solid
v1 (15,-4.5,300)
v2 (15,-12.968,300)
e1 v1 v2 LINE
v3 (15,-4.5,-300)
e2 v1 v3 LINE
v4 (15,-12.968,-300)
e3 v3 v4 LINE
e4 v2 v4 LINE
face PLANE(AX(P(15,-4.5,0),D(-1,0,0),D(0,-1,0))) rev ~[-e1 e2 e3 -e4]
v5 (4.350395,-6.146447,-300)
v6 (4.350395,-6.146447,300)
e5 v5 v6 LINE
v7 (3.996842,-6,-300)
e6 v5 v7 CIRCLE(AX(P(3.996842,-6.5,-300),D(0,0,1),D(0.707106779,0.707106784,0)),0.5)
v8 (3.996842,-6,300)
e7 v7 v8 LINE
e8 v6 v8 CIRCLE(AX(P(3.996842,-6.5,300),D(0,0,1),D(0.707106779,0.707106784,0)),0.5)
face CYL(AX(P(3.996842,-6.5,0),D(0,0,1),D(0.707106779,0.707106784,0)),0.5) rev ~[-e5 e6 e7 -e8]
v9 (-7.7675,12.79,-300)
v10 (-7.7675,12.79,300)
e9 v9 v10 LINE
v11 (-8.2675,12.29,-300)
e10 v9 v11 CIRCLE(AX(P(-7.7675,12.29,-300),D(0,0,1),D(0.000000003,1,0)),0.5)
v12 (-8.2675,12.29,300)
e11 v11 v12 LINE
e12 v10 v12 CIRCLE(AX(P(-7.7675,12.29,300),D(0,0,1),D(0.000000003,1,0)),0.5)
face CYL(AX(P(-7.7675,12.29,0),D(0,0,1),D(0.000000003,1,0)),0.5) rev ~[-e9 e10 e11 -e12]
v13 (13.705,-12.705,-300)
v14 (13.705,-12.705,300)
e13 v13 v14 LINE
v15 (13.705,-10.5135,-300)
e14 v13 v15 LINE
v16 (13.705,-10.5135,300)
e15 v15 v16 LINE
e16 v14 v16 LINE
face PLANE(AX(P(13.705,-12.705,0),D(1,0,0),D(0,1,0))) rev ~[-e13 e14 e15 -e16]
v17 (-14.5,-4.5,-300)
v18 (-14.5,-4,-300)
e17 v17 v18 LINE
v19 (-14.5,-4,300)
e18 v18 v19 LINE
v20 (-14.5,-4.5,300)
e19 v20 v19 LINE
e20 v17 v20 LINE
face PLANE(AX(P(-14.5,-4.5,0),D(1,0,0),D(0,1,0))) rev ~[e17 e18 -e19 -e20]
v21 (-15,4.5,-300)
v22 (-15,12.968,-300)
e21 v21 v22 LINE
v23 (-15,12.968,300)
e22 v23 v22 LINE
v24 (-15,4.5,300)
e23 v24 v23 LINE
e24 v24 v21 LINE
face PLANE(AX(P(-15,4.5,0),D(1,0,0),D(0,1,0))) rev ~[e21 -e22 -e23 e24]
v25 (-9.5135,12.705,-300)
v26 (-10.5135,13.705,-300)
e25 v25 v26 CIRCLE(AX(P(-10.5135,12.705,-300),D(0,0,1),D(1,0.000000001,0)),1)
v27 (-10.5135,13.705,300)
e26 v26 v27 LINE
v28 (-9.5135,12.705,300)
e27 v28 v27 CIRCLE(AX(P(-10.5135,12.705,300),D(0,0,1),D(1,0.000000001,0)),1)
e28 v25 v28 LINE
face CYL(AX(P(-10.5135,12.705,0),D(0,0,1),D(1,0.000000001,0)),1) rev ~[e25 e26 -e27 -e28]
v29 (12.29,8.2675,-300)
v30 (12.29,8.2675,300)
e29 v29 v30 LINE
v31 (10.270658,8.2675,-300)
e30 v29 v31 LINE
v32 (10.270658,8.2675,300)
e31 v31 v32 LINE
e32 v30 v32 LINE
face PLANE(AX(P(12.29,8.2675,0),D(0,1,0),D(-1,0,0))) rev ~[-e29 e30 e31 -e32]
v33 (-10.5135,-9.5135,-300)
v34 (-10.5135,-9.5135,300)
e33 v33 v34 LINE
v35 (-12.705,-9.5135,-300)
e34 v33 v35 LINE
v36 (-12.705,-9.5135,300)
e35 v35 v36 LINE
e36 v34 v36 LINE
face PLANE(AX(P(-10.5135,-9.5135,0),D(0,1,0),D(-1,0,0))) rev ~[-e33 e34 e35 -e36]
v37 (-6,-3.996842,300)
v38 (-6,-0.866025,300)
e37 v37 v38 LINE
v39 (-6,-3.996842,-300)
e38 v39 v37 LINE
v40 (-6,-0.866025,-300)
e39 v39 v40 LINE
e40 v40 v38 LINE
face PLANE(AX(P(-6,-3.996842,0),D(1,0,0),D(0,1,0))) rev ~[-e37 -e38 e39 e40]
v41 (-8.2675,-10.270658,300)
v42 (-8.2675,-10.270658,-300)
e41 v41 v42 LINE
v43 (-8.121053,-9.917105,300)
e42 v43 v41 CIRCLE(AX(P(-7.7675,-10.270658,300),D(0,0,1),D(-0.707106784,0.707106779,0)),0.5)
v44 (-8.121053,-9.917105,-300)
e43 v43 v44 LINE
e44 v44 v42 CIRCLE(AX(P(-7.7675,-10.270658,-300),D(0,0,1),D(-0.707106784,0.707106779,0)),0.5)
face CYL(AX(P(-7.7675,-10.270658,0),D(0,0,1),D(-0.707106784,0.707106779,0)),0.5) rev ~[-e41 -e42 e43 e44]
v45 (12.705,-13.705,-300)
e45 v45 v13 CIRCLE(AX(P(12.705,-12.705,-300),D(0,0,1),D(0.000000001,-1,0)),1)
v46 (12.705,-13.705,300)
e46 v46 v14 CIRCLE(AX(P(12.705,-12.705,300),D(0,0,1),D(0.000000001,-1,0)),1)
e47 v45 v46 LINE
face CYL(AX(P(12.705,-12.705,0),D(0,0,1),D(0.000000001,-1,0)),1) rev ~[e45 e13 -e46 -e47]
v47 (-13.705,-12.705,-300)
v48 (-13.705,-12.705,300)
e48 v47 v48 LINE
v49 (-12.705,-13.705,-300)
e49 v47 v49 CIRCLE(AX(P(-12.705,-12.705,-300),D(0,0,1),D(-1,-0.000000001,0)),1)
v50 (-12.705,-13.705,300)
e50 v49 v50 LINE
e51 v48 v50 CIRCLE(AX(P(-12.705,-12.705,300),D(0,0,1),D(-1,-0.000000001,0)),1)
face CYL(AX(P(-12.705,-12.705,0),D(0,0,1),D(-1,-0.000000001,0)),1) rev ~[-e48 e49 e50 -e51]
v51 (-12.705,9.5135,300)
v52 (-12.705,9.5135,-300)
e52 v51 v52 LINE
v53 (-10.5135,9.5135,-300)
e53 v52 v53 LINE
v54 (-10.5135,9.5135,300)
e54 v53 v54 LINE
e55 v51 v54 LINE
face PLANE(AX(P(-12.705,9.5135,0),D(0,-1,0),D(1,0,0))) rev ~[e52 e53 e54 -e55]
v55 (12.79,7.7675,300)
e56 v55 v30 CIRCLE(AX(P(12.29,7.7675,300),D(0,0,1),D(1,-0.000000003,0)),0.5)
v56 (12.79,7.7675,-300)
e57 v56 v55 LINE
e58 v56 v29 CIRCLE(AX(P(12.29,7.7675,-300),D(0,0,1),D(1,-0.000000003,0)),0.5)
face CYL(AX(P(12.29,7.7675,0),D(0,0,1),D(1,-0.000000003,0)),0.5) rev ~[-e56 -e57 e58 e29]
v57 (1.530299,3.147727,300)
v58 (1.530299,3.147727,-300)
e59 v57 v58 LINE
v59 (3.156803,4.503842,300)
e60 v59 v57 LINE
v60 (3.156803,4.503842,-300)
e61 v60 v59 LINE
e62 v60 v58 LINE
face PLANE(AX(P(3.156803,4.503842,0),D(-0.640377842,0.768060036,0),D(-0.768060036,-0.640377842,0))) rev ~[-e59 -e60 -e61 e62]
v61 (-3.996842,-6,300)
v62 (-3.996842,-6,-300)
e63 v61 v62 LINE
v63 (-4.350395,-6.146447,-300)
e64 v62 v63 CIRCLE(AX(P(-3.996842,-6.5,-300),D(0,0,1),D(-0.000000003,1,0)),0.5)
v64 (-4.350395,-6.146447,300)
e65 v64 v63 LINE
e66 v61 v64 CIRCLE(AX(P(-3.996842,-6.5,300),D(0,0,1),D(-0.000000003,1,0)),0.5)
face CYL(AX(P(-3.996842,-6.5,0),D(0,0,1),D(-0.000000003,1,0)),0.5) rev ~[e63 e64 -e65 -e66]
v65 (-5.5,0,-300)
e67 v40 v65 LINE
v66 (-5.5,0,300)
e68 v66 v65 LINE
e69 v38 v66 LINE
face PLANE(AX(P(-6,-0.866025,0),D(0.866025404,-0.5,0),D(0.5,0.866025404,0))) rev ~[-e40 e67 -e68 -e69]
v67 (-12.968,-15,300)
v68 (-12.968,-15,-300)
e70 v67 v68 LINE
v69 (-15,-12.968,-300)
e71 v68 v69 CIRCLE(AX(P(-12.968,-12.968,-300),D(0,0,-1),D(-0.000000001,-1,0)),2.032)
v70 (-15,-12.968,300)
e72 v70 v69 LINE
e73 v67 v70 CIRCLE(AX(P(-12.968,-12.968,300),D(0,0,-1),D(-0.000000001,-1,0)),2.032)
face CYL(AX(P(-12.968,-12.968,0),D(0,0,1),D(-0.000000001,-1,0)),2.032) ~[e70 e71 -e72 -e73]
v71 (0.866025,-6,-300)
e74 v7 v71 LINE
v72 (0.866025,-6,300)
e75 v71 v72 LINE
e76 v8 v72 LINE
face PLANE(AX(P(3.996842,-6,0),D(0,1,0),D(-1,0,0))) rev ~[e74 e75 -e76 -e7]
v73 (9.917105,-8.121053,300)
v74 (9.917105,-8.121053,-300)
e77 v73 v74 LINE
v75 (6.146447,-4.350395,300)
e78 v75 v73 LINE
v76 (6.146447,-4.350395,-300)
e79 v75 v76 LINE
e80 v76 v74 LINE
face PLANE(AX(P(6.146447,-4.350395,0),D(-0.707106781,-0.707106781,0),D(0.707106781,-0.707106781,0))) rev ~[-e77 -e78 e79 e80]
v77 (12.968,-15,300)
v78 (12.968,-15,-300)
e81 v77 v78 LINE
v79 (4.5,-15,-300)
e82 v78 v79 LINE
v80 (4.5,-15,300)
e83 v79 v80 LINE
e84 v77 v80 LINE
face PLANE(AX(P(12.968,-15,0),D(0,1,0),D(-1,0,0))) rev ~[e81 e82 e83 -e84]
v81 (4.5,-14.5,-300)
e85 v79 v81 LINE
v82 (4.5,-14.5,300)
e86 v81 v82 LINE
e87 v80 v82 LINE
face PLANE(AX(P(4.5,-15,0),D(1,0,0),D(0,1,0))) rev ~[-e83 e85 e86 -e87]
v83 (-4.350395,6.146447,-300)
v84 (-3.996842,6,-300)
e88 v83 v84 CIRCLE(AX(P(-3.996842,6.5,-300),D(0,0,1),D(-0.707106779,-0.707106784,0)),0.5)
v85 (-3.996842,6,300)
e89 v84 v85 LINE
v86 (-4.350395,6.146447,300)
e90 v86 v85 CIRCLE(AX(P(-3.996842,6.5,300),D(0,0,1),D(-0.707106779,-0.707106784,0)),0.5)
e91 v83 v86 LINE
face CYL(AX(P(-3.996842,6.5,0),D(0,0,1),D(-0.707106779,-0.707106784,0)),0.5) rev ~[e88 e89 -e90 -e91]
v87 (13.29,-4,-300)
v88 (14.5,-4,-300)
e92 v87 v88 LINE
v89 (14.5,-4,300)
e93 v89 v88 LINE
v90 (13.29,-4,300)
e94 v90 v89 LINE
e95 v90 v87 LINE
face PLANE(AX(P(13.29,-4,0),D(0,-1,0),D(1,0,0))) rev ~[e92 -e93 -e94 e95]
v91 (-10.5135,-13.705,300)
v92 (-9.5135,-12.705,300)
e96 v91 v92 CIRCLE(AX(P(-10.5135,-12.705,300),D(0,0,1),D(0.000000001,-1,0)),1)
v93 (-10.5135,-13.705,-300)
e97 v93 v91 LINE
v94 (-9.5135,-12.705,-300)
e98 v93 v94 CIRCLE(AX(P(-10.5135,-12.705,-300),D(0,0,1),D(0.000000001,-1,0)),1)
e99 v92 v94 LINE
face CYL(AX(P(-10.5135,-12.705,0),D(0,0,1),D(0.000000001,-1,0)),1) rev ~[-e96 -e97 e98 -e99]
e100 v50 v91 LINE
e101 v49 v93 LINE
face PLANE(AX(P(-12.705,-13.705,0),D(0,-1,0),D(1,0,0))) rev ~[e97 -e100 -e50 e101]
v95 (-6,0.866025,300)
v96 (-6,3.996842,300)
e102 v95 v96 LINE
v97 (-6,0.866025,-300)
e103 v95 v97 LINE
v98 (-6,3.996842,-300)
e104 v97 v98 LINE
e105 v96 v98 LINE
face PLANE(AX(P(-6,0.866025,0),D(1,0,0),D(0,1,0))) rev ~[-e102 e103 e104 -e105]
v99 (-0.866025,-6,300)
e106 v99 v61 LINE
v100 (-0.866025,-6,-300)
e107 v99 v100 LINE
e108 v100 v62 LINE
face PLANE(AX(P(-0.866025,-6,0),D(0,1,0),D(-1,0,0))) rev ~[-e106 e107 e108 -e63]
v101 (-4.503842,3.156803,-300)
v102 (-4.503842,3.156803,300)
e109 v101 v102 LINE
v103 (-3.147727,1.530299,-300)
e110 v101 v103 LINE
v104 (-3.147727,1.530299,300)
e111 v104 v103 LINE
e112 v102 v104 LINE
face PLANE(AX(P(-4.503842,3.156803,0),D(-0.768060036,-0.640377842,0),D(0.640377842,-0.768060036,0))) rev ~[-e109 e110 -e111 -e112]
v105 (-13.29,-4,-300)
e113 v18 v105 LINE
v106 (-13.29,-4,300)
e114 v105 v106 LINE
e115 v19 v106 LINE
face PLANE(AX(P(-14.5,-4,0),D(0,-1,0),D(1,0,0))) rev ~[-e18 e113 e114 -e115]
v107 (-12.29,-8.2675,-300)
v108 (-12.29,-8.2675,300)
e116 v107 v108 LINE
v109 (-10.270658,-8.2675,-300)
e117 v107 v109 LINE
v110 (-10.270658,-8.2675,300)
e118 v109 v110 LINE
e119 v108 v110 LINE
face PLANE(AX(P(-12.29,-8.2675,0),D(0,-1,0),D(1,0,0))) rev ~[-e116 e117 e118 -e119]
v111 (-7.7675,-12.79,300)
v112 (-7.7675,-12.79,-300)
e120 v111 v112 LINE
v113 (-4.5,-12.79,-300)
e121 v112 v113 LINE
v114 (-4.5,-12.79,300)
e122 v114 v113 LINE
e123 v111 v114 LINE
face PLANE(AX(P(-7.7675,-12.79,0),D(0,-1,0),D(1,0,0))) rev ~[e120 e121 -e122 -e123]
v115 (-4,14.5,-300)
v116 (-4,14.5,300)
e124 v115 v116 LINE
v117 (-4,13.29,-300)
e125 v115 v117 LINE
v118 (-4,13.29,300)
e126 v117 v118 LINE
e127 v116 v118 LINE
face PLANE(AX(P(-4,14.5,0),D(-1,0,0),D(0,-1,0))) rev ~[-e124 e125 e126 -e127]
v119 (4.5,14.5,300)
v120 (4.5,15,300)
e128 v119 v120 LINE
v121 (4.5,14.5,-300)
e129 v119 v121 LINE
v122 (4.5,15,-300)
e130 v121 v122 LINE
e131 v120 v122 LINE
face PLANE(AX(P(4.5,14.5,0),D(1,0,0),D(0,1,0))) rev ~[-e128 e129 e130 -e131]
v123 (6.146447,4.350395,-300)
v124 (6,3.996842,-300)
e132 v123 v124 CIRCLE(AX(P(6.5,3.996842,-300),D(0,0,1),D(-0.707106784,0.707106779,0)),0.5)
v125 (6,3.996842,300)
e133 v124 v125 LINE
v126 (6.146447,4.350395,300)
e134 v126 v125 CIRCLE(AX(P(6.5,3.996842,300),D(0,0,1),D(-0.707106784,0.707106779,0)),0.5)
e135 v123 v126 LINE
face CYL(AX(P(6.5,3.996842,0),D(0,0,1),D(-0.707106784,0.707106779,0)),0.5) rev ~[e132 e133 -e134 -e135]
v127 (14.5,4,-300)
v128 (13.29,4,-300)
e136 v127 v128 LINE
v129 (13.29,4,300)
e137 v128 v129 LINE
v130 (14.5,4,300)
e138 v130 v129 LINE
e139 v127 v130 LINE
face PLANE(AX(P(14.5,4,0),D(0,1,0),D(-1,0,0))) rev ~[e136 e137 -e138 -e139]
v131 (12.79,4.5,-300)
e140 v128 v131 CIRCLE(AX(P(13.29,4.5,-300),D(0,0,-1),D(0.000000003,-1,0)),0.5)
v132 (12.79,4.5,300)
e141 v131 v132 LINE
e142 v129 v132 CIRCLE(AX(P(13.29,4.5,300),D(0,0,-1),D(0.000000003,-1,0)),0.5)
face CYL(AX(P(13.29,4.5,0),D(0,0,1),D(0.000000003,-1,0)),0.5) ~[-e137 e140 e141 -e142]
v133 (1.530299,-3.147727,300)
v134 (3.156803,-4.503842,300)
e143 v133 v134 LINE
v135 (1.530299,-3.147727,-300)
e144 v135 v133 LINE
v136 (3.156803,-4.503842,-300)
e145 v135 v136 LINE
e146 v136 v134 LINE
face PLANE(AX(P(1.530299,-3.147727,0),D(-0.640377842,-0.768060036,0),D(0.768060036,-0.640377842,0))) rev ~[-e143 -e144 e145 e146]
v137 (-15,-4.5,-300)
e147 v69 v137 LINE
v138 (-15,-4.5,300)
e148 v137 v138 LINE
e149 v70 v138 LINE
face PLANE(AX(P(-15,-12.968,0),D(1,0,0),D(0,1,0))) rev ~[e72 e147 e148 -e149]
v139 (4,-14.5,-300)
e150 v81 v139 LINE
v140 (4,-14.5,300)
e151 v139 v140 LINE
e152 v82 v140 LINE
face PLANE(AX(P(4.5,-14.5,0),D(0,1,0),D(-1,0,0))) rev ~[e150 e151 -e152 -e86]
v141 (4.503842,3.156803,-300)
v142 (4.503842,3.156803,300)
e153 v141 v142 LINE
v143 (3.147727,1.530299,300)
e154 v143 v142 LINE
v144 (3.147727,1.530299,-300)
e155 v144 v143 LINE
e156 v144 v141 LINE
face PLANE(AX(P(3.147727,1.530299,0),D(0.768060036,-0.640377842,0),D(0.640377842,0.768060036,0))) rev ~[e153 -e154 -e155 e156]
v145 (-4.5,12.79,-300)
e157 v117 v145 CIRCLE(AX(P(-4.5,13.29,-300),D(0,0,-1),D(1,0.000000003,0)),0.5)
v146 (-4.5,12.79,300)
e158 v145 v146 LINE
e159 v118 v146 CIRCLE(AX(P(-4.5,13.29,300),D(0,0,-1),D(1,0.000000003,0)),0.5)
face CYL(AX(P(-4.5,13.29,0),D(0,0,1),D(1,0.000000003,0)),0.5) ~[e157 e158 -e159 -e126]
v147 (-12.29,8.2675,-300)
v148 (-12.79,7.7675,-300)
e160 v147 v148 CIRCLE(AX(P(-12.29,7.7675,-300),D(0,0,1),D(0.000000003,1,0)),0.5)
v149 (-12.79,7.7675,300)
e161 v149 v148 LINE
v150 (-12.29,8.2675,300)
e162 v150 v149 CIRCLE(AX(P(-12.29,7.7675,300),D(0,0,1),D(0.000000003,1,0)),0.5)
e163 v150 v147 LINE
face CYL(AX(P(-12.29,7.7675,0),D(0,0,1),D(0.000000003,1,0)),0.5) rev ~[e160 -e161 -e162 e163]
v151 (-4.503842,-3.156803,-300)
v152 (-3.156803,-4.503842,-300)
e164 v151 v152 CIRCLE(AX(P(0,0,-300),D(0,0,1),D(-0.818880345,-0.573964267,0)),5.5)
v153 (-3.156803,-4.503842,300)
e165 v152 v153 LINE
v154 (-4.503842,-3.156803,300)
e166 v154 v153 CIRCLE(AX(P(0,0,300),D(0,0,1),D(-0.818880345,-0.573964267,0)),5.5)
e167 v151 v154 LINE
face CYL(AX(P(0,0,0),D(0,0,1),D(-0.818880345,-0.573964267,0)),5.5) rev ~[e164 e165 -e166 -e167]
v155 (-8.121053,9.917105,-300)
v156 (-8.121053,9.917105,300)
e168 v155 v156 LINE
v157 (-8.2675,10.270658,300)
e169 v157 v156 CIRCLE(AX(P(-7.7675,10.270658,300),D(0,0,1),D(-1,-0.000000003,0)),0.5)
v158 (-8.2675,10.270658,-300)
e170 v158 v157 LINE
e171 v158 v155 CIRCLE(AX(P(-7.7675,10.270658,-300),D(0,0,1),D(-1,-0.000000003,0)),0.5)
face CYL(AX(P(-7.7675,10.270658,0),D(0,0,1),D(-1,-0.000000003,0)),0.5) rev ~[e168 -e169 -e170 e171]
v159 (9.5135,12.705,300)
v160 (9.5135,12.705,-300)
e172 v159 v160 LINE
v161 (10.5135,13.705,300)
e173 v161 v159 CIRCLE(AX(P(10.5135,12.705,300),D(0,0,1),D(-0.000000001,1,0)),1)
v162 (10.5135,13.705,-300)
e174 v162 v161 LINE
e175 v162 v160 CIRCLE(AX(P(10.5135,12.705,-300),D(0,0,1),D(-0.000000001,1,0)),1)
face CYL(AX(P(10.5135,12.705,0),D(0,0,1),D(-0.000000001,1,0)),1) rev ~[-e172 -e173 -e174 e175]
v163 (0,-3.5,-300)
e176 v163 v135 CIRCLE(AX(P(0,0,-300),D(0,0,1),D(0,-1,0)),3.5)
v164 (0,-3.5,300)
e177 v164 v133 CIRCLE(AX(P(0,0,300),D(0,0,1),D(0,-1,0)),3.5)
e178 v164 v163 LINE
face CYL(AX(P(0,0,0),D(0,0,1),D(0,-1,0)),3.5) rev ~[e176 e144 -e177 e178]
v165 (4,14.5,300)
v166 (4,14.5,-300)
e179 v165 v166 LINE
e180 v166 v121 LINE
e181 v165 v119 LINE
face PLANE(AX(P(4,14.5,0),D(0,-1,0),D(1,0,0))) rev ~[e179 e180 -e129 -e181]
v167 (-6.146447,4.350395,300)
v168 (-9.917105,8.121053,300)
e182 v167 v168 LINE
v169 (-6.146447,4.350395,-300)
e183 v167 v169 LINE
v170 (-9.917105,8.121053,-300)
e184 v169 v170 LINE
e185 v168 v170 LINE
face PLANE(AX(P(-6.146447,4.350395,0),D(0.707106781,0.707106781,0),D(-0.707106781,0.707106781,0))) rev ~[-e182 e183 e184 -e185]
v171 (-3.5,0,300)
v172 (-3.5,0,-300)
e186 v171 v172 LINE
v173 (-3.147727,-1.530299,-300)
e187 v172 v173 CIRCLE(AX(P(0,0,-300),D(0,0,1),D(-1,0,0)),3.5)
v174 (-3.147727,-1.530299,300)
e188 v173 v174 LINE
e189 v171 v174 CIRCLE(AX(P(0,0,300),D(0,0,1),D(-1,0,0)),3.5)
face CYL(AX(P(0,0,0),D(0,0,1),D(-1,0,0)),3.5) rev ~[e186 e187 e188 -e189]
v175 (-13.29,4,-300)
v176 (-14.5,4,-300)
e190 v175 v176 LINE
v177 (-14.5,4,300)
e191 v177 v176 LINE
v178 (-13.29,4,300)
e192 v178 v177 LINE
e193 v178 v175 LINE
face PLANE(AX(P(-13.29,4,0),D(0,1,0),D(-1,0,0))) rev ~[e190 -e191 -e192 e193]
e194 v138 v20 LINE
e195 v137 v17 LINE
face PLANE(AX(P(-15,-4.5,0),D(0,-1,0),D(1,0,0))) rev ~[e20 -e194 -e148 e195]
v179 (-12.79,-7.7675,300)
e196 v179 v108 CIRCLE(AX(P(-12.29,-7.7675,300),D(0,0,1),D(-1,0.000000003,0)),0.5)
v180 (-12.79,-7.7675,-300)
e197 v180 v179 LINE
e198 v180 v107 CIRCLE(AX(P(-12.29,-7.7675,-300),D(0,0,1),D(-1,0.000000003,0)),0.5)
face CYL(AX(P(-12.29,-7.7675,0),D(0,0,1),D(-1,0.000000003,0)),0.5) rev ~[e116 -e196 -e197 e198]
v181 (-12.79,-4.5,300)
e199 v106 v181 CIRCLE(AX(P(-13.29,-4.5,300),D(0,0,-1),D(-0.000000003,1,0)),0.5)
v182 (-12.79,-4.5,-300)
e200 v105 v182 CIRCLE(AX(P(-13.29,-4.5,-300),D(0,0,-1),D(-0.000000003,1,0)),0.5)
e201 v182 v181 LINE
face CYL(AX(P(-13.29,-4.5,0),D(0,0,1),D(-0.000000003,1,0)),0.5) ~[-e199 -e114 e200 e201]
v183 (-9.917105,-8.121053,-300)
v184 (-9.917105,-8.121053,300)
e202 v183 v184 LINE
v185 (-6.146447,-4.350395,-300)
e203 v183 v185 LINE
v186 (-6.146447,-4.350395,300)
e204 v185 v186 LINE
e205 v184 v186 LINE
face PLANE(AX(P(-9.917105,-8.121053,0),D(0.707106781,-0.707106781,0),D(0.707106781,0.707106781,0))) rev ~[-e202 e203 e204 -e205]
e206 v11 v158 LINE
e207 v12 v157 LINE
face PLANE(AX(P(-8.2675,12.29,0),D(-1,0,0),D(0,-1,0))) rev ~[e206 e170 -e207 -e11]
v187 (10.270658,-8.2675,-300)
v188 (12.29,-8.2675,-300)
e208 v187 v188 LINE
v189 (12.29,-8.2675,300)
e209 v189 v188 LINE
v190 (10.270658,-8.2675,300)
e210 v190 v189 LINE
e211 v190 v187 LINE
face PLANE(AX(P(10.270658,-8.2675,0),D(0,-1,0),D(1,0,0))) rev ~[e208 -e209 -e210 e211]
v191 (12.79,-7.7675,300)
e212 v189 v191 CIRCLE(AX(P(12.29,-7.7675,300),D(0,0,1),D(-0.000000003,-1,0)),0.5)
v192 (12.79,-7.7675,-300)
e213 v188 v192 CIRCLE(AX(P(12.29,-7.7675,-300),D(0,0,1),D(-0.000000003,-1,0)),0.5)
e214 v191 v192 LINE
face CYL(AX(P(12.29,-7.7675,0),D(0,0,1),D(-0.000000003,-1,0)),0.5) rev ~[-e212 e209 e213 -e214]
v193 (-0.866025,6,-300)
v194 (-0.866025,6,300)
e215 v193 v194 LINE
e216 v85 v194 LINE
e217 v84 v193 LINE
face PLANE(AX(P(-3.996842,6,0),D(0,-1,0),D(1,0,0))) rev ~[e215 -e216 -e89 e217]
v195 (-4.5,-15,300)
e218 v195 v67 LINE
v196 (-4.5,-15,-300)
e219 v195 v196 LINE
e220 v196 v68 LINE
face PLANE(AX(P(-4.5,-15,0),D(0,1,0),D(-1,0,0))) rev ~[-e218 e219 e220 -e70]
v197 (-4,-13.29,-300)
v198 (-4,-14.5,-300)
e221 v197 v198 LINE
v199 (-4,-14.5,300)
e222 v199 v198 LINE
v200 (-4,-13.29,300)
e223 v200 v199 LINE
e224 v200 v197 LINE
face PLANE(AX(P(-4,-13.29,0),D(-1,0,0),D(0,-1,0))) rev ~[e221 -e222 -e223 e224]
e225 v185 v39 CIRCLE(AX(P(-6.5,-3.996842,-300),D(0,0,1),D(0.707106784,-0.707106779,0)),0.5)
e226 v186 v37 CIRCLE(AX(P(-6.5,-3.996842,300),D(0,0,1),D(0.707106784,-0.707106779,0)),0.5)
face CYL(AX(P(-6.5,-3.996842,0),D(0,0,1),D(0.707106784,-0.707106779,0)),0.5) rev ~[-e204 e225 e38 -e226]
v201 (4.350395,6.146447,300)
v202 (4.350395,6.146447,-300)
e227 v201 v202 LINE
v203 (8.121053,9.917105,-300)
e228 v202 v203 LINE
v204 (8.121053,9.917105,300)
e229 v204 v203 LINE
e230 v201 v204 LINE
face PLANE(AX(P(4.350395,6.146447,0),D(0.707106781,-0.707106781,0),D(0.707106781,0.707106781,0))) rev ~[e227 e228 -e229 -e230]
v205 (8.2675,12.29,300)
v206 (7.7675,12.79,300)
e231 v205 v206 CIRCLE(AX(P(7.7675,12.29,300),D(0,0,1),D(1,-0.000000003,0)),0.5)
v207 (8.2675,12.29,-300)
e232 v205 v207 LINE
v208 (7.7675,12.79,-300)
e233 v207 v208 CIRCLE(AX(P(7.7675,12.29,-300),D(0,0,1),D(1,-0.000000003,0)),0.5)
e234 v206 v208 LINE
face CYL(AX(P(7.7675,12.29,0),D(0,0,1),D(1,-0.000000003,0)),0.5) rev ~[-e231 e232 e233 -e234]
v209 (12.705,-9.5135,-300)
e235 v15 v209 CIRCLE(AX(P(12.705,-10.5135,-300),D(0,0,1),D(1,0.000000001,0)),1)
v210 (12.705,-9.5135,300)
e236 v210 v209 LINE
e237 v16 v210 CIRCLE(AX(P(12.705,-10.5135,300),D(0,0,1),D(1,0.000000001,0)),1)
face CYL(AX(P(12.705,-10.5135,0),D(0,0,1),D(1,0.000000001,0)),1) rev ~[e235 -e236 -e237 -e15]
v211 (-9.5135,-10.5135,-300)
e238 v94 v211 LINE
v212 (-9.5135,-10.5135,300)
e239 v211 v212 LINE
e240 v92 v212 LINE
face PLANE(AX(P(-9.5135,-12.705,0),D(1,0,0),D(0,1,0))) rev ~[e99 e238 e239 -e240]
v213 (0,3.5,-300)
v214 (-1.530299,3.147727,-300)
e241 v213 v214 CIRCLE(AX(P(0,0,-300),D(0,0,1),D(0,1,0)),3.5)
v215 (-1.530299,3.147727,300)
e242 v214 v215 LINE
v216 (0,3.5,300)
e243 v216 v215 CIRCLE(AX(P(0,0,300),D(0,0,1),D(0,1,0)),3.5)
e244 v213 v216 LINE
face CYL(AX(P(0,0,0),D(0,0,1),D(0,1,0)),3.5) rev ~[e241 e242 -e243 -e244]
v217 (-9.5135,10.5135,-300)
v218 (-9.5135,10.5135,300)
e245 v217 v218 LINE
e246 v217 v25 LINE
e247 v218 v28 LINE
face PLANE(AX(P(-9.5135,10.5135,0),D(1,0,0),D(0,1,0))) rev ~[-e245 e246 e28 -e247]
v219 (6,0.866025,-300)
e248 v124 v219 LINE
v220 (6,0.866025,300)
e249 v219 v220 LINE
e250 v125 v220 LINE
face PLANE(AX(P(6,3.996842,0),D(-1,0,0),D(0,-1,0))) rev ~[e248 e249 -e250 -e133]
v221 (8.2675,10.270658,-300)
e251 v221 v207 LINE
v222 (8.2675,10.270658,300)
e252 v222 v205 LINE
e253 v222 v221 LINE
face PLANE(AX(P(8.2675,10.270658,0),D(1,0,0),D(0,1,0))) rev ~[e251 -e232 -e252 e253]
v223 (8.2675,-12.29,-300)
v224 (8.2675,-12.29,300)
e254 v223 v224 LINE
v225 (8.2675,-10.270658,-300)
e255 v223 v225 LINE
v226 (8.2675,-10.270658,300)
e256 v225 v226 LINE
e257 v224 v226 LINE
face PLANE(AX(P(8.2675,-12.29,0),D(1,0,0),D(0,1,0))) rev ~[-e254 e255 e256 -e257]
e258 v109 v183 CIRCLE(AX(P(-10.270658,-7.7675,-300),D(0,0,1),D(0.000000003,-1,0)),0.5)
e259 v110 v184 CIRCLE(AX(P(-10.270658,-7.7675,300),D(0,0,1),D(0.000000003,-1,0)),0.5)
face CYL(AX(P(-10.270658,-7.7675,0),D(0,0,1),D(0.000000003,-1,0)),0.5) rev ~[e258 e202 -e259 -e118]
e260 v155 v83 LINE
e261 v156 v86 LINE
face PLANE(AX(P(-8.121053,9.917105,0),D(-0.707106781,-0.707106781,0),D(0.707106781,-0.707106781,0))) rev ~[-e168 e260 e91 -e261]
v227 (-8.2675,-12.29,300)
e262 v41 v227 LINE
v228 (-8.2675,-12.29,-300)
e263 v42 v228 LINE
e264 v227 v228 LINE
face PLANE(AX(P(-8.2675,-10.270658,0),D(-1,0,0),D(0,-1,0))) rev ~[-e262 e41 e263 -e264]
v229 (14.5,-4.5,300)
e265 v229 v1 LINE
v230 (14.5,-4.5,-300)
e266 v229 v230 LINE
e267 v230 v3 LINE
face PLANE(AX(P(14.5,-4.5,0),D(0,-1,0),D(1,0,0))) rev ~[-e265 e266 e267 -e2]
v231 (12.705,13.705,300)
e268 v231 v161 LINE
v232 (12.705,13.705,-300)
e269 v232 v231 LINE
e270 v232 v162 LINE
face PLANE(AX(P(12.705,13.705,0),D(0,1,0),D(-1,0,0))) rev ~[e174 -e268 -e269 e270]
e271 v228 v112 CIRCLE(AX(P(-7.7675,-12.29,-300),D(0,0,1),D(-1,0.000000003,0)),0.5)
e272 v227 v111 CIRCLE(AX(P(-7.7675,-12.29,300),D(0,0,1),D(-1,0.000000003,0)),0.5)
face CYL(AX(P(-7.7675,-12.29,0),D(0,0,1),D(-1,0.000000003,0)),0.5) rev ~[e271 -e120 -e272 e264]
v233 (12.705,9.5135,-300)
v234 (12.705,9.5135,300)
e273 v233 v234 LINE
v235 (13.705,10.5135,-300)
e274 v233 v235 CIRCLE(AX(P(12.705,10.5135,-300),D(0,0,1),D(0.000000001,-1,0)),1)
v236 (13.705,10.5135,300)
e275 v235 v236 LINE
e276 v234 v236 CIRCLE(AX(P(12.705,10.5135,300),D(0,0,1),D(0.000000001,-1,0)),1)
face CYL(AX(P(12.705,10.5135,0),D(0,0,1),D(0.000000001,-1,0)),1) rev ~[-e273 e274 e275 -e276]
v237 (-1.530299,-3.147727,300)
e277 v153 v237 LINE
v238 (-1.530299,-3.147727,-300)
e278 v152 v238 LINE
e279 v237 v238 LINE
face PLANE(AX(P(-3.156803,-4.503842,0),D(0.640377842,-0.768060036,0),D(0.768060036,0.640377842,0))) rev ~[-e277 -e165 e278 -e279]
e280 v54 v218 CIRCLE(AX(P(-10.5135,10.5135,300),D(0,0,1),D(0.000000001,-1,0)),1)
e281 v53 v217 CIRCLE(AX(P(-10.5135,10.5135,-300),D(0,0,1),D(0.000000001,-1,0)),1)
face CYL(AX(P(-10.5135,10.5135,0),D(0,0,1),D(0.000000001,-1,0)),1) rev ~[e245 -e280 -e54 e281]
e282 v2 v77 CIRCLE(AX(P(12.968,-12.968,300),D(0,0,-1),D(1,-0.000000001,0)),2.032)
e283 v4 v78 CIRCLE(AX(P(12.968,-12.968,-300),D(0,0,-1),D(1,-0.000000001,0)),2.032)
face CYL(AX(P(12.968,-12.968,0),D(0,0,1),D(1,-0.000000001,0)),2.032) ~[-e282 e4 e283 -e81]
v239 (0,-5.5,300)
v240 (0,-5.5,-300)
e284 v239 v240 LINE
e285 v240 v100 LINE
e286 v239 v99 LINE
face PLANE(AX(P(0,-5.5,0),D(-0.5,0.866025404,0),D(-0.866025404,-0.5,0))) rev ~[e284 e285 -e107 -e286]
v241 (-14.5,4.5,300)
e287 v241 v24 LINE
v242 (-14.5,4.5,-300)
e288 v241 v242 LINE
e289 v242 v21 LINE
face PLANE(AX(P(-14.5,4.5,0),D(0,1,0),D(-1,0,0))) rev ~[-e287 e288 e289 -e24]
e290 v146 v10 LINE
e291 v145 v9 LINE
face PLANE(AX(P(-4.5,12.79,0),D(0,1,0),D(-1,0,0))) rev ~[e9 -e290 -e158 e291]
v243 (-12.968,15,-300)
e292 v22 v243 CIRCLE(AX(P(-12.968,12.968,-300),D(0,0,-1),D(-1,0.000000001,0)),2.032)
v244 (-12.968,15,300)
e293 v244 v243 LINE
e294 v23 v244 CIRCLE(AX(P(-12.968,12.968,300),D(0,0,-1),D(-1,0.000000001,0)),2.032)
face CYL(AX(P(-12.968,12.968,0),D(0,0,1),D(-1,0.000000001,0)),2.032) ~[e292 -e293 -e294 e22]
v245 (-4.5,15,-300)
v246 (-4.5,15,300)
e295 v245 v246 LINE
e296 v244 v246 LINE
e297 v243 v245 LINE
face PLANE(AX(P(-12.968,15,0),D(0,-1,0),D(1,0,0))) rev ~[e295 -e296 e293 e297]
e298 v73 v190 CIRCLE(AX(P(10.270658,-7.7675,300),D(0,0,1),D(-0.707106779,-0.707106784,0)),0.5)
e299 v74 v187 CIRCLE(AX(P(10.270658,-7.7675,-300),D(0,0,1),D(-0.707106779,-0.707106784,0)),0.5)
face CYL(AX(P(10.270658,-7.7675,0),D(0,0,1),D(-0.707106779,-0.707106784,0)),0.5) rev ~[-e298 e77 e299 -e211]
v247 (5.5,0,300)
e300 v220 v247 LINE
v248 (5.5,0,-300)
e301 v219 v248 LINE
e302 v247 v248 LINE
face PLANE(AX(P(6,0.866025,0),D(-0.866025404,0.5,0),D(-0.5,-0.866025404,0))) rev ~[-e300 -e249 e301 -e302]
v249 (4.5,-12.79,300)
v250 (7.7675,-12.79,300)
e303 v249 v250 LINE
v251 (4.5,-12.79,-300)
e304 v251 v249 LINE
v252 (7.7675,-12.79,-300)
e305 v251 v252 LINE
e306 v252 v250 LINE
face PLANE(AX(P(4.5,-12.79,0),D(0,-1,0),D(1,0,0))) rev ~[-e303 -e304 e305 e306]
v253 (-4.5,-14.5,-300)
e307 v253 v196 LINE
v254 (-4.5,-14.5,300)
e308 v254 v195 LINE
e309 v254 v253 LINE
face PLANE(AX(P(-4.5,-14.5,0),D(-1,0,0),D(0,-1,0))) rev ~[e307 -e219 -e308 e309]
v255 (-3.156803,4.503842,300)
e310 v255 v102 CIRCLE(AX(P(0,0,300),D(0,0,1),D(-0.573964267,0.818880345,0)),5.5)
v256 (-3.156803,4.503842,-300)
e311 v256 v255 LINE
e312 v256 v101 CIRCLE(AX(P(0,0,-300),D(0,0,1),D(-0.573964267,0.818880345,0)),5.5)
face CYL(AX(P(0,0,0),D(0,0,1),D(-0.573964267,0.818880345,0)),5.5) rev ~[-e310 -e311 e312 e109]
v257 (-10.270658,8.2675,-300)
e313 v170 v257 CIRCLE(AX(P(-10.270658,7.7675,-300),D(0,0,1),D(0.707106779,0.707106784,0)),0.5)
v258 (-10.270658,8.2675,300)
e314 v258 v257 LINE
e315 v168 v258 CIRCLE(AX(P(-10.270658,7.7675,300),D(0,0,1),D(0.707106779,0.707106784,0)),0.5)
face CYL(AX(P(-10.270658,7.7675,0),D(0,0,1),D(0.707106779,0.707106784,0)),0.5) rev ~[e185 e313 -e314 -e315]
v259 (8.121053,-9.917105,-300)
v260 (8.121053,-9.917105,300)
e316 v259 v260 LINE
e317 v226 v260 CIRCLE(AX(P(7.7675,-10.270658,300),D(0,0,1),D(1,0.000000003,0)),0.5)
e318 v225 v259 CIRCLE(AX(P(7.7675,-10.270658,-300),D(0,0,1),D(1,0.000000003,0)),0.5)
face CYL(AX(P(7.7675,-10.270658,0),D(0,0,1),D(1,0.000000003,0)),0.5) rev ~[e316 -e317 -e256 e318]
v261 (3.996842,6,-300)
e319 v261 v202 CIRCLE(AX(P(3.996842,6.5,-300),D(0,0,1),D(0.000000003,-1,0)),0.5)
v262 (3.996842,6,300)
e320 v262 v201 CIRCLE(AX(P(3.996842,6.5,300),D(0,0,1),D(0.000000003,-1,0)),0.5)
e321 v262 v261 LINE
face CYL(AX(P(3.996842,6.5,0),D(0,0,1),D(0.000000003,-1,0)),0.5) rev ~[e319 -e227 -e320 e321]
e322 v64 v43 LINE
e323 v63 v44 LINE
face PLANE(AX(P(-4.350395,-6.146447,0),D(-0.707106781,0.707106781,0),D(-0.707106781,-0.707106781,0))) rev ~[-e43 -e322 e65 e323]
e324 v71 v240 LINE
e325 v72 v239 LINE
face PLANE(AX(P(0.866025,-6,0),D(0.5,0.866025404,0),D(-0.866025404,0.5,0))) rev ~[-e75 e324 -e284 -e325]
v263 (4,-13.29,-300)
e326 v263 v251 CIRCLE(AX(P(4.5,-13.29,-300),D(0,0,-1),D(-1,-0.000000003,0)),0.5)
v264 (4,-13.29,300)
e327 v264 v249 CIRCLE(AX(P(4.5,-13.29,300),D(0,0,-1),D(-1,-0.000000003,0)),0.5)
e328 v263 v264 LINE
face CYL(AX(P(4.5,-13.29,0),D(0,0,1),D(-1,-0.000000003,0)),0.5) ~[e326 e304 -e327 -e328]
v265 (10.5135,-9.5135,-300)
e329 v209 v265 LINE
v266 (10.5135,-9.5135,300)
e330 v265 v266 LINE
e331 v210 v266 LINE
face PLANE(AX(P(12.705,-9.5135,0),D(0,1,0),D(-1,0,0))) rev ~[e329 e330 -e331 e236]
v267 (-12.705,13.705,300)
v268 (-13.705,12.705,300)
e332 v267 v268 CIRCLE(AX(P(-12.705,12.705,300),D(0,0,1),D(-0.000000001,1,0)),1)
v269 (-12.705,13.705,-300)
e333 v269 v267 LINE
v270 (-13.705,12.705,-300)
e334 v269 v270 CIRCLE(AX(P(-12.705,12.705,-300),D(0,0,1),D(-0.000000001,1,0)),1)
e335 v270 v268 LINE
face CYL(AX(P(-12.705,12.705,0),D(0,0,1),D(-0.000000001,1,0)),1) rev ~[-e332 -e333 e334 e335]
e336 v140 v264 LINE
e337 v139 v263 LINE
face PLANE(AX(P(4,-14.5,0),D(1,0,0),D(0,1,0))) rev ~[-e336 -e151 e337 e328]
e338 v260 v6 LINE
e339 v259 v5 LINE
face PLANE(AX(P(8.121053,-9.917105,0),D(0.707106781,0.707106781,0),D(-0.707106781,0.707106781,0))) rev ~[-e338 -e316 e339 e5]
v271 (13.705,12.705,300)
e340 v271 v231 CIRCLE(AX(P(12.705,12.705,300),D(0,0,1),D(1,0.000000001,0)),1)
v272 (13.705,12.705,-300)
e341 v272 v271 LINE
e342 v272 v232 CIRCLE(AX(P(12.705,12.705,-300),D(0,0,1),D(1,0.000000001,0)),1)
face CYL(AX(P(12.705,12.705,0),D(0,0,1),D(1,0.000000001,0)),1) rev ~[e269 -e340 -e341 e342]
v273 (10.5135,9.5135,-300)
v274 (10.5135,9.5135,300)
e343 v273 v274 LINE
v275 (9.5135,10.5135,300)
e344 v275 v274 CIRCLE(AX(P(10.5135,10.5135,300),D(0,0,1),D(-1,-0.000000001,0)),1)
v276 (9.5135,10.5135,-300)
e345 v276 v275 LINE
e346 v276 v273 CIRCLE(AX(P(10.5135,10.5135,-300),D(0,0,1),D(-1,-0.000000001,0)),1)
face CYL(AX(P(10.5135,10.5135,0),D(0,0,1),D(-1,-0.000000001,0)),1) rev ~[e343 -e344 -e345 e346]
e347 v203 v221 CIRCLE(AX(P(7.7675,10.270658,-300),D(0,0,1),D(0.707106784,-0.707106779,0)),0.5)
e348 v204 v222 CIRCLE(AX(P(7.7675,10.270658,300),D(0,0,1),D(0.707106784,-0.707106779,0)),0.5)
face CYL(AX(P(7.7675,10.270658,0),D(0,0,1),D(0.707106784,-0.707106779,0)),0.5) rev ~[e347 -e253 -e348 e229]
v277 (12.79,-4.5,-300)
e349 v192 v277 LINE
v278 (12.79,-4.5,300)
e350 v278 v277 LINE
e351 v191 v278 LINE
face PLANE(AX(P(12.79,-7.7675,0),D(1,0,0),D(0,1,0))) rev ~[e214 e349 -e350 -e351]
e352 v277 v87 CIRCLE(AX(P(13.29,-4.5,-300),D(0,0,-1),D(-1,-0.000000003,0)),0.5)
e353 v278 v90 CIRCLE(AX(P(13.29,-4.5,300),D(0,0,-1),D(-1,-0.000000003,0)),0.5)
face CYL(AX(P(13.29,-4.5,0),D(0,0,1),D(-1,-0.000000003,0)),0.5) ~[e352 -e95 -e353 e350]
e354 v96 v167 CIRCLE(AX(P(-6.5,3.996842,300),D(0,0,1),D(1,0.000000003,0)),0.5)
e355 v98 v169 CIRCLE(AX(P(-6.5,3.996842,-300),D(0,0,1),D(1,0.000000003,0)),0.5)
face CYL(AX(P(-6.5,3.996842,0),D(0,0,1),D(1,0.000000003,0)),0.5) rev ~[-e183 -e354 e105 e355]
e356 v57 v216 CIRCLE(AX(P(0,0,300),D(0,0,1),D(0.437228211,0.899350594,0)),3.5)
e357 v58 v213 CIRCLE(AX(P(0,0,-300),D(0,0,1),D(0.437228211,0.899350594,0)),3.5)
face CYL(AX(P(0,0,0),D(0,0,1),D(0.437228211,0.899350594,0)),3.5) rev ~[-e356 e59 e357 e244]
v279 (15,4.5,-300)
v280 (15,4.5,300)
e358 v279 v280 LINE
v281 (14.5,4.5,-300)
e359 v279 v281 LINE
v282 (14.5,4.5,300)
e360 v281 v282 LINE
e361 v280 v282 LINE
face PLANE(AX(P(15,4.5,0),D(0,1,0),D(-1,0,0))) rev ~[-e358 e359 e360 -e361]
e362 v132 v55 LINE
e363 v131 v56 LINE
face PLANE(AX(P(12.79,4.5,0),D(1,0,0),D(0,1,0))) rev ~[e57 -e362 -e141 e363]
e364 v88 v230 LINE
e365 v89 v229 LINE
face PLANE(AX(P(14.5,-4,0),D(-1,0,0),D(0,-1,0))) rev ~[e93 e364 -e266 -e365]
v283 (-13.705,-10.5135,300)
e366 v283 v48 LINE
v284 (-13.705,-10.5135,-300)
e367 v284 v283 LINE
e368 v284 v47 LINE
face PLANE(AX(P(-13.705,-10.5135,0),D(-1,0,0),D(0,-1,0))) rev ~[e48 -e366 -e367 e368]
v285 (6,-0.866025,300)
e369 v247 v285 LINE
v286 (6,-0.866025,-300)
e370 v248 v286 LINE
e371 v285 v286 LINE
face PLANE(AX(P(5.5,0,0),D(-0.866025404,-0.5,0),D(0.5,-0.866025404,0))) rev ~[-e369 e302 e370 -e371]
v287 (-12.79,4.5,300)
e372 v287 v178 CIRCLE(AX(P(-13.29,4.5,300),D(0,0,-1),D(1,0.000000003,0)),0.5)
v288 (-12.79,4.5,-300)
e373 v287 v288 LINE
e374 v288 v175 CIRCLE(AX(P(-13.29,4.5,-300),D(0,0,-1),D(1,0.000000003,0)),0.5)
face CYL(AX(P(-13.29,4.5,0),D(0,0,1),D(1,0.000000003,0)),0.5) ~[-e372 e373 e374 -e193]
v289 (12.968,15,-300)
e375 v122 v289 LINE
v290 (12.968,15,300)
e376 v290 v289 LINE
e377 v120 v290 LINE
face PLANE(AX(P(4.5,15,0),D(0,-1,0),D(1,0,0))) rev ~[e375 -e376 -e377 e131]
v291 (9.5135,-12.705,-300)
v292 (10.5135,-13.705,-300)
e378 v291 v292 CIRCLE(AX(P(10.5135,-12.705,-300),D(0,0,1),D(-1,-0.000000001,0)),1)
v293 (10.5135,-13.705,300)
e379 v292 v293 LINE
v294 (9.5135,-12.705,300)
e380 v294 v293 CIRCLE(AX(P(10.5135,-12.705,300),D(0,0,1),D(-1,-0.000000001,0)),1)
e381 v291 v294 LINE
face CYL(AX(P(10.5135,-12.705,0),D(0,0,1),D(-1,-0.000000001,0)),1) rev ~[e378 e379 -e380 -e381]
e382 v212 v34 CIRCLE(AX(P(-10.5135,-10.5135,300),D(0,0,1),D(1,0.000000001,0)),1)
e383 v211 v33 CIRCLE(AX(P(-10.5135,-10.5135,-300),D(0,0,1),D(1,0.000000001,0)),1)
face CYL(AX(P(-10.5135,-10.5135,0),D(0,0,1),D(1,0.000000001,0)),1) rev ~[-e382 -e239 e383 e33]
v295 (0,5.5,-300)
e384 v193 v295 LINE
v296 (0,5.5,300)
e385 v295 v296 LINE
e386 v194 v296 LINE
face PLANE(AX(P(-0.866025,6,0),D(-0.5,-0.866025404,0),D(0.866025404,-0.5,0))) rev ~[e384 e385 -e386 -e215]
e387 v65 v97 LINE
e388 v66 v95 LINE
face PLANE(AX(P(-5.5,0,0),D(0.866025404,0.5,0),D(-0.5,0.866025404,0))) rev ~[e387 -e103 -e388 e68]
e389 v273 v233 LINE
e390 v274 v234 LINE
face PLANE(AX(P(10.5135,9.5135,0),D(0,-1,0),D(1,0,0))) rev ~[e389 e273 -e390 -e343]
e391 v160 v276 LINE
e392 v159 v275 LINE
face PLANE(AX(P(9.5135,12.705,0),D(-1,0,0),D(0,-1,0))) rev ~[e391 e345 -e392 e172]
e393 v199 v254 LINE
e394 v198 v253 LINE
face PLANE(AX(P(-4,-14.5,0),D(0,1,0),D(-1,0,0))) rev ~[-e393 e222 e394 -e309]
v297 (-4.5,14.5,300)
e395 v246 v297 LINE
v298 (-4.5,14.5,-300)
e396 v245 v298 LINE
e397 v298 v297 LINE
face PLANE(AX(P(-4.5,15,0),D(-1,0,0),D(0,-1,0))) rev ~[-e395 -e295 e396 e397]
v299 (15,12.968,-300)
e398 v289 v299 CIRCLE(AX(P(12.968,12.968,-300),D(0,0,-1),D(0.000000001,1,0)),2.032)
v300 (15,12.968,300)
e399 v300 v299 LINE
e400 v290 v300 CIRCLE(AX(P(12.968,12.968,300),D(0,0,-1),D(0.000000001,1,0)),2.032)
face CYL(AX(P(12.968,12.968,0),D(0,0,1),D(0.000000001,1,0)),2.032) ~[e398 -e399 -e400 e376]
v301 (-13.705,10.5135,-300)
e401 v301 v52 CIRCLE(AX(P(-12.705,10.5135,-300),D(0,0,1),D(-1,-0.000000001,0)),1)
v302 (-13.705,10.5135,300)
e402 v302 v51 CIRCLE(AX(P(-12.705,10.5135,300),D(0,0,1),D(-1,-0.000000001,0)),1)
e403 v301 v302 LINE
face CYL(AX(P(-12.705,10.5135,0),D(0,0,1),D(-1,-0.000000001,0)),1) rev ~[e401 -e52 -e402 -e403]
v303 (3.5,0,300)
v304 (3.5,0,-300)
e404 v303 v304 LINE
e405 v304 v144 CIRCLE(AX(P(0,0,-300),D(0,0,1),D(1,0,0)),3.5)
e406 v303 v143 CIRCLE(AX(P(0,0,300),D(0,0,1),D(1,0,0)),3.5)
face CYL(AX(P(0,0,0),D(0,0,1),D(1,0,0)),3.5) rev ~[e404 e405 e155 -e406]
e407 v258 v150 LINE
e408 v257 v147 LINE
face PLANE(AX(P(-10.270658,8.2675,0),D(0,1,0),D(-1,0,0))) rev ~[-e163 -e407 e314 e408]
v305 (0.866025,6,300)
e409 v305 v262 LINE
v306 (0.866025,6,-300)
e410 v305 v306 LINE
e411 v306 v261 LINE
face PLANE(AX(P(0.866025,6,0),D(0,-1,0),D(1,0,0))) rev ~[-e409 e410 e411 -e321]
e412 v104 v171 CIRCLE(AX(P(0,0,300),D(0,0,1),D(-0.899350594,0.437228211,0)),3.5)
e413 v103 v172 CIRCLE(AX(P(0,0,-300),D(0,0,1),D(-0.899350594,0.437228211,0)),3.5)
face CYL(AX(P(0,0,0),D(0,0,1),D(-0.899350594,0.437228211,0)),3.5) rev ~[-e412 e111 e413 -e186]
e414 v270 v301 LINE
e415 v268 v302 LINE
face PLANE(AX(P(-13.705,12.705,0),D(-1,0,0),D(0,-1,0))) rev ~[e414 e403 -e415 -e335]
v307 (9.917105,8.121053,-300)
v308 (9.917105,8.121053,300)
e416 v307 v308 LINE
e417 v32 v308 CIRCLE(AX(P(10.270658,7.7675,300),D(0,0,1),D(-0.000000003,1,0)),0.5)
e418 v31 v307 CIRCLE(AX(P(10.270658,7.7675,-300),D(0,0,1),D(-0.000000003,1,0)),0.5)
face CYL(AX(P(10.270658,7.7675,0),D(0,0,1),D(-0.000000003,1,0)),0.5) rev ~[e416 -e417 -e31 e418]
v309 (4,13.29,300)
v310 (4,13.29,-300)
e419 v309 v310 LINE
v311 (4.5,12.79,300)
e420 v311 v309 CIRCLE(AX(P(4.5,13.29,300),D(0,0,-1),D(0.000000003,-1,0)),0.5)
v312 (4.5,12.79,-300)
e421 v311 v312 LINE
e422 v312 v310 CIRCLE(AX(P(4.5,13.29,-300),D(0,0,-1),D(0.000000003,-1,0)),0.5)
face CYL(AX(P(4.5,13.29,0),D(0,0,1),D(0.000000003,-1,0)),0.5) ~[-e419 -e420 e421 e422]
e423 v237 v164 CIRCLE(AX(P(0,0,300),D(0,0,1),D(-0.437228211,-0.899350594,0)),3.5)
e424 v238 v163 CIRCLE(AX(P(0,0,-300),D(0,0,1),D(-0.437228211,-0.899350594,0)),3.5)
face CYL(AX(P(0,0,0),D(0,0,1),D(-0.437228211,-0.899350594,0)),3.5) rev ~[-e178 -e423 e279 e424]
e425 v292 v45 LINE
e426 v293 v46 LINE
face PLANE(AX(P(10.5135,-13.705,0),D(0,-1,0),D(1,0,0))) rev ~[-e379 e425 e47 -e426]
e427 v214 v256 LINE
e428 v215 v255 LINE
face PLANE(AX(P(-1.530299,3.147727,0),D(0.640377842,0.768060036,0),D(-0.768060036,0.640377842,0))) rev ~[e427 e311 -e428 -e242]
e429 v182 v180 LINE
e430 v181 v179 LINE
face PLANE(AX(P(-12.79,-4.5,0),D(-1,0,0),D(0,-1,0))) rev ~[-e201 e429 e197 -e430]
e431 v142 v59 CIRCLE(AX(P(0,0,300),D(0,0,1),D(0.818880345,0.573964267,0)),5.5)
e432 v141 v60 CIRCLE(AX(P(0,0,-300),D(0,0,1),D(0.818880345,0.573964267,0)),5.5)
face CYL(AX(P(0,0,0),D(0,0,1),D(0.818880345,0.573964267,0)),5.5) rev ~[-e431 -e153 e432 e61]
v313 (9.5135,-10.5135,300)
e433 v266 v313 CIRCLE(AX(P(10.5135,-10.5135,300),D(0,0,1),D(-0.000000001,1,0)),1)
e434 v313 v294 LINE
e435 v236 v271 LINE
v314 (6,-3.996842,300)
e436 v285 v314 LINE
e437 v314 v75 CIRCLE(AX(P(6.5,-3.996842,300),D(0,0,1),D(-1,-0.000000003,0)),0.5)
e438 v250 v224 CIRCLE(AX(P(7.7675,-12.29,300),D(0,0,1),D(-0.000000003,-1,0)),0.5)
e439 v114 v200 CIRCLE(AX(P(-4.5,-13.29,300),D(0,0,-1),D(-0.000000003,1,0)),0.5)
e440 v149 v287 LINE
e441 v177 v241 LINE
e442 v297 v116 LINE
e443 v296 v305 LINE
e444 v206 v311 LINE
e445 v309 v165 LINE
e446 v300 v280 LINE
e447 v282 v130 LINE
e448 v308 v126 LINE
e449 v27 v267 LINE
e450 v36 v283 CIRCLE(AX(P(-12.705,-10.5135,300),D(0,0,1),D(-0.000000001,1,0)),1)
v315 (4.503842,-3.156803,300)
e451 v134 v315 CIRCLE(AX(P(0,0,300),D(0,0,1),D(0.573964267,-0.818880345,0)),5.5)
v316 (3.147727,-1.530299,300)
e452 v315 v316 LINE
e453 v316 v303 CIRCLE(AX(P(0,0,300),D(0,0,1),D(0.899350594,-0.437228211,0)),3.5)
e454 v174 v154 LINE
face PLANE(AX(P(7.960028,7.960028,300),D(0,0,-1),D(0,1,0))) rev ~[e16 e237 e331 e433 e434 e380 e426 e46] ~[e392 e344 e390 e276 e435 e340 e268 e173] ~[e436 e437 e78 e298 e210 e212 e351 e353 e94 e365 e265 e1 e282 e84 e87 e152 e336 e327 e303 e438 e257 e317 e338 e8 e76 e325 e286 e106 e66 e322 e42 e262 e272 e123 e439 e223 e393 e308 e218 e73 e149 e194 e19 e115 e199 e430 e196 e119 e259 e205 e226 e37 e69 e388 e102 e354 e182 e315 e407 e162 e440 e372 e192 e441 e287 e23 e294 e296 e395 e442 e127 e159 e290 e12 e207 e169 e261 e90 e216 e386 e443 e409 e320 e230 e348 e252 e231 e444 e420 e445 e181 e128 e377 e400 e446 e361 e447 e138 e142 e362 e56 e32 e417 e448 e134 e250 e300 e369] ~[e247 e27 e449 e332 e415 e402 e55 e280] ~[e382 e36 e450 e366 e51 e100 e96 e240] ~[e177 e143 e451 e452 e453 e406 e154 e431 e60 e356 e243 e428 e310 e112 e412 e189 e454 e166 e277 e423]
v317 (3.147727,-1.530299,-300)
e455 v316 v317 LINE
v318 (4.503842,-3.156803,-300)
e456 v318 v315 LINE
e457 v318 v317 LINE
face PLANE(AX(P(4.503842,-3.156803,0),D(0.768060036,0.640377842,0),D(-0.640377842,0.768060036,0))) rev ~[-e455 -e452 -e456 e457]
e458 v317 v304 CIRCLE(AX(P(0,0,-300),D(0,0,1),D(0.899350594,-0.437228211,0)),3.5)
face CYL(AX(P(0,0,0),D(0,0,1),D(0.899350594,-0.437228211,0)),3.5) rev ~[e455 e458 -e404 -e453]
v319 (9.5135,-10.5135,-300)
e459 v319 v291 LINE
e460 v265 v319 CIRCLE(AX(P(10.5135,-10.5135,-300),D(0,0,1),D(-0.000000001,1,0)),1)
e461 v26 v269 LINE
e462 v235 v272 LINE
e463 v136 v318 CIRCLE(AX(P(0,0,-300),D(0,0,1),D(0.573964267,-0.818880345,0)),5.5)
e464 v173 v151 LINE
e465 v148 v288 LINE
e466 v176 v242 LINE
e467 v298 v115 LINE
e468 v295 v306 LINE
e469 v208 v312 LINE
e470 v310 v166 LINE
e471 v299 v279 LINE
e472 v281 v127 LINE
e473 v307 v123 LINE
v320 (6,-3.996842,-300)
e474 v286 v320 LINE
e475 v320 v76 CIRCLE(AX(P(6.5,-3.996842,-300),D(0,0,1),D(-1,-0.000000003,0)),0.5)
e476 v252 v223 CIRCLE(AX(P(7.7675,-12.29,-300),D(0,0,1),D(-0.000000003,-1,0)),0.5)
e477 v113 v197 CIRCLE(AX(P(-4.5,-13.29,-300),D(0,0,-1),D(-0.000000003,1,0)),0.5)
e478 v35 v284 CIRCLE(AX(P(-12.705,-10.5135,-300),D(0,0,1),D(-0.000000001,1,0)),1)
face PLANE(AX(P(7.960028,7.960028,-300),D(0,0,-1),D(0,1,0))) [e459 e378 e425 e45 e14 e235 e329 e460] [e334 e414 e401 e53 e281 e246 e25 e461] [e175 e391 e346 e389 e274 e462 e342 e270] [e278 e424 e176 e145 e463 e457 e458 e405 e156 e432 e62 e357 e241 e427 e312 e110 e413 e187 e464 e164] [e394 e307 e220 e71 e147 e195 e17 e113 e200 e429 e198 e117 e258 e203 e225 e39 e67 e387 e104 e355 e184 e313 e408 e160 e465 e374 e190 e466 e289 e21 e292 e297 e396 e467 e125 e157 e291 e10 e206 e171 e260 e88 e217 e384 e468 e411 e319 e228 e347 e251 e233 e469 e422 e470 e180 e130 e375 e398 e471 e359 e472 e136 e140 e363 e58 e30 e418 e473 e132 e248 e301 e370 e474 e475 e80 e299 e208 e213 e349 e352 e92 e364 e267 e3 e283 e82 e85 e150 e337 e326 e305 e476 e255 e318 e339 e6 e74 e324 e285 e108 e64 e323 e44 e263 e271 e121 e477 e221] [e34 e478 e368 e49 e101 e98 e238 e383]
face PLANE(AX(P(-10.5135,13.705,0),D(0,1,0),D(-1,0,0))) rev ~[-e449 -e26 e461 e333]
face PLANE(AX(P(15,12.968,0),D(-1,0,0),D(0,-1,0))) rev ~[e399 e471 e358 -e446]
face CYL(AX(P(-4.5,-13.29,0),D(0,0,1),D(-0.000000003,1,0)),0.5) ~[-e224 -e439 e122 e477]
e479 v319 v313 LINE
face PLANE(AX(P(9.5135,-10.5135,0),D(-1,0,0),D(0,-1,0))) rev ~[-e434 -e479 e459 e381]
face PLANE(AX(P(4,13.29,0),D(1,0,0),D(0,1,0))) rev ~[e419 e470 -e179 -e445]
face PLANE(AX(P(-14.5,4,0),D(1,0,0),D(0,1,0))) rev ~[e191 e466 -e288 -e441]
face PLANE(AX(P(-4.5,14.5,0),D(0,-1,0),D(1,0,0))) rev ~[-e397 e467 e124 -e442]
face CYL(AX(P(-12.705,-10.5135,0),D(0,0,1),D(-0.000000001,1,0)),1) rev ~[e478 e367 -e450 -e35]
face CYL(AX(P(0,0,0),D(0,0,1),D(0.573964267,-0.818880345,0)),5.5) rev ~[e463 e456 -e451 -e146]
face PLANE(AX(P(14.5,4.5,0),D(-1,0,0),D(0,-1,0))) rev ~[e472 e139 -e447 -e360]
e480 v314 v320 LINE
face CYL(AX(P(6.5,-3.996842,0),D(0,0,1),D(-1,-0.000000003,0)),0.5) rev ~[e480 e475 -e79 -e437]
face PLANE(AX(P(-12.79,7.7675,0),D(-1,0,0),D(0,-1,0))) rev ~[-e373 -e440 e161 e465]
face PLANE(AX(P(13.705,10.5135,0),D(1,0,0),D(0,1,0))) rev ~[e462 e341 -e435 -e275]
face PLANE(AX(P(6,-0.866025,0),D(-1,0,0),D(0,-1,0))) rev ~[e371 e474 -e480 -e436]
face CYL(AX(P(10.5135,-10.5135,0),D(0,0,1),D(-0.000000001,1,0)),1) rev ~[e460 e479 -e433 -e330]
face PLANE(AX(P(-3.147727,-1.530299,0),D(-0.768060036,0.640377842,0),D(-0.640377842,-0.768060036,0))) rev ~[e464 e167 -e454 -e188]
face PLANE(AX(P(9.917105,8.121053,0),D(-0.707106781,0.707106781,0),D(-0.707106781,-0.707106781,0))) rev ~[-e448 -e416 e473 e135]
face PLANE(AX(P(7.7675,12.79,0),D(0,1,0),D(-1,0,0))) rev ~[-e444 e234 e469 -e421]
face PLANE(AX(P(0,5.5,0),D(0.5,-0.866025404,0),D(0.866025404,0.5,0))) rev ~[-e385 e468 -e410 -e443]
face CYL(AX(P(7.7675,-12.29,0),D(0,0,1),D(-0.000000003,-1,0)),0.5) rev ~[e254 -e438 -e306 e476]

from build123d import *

# Parameters (mm, degrees)
BOSS_EXTRUDE1_DEPTH = 300
CIRPATTERN1_COUNT   = 4


with BuildPart() as part:
    # Sketch3 → Boss-Extrude1 (new, symmetric)
    with BuildSketch(Plane.XY):
        with BuildLine():
            Line((-4.503841895, 3.156803476), (-3.14772708, 1.530298739))
            ThreePointArc((-3.14772708, 1.530298739), (-3.410794979, 0.785160882), (-3.5, 0))
            Line((-3.5, 0), (-5.5, 0))
            Line((-5.5, 0), (-6, 0.866025404))
            Line((-6, 0.866025404), (-6, 3.996841995))
            ThreePointArc((-6, 3.996841995), (-6.038060234, 4.188183711), (-6.146446609, 4.350395385))
            Line((-6.146446609, 4.350395385), (-9.917104615, 8.121053391))
            ThreePointArc((-9.917104615, 8.121053391), (-10.079316289, 8.229439766), (-10.270658005, 8.2675))
            Line((-10.270658005, 8.2675), (-12.29, 8.2675))
            ThreePointArc((-12.29, 8.2675), (-12.643553391, 8.121053391), (-12.79, 7.7675))
            Line((-12.79, 7.7675), (-12.79, 4.5))
            ThreePointArc((-12.79, 4.5), (-12.936446609, 4.146446609), (-13.29, 4))
            Line((-13.29, 4), (-14.5, 4))
            Line((-14.5, 4), (-14.5, 4.5))
            Line((-14.5, 4.5), (-15, 4.5))
            Line((-15, 4.5), (-15, 12.968))
            ThreePointArc((-15, 12.968), (-14.404840979, 14.404840979), (-12.968, 15))
            Line((-12.968, 15), (-4.5, 15))
            Line((-4.5, 15), (-4.5, 14.5))
            Line((-4.5, 14.5), (-4, 14.5))
            Line((-4, 14.5), (-4, 13.29))
            ThreePointArc((-4, 13.29), (-4.146446609, 12.936446609), (-4.5, 12.79))
            Line((-4.5, 12.79), (-7.7675, 12.79))
            ThreePointArc((-7.7675, 12.79), (-8.121053391, 12.643553391), (-8.2675, 12.29))
            Line((-8.2675, 12.29), (-8.2675, 10.270658005))
            ThreePointArc((-8.2675, 10.270658005), (-8.229439766, 10.079316289), (-8.121053391, 9.917104615))
            Line((-8.121053391, 9.917104615), (-4.350395385, 6.146446609))
            ThreePointArc((-4.350395385, 6.146446609), (-4.188183711, 6.038060234), (-3.996841995, 6))
            Line((-3.996841995, 6), (-0.866025404, 6))
            Line((-0.866025404, 6), (0, 5.5))
            Line((0, 5.5), (0, 3.5))
            ThreePointArc((0, 3.5), (-0.785160882, 3.410794979), (-1.530298739, 3.14772708))
            Line((-1.530298739, 3.14772708), (-3.156803476, 4.503841895))
            ThreePointArc((-3.156803476, 4.503841895), (-3.889087297, 3.889087297), (-4.503841895, 3.156803476))
        make_face()
        with BuildLine():
            Line((-12.705, 9.5135), (-10.5135, 9.5135))
            ThreePointArc((-10.5135, 9.5135), (-9.806393219, 9.806393219), (-9.5135, 10.5135))
            Line((-9.5135, 10.5135), (-9.5135, 12.705))
            ThreePointArc((-9.5135, 12.705), (-9.806393219, 13.412106781), (-10.5135, 13.705))
            Line((-10.5135, 13.705), (-12.705, 13.705))
            ThreePointArc((-12.705, 13.705), (-13.412106781, 13.412106781), (-13.705, 12.705))
            Line((-13.705, 12.705), (-13.705, 10.5135))
            ThreePointArc((-13.705, 10.5135), (-13.412106781, 9.806393219), (-12.705, 9.5135))
        make_face(mode=Mode.SUBTRACT)
    boss_extrude1 = extrude(amount=BOSS_EXTRUDE1_DEPTH, both=True)

    # CirPattern1: Boss-Extrude1 ×4 about axis
    cirpattern1_axis = Axis((0, 0, 0), (0, 0, 1))
    for i in range(1, CIRPATTERN1_COUNT):
        add(boss_extrude1.rotate(cirpattern1_axis, i * 360 / CIRPATTERN1_COUNT))


solid = part.part
